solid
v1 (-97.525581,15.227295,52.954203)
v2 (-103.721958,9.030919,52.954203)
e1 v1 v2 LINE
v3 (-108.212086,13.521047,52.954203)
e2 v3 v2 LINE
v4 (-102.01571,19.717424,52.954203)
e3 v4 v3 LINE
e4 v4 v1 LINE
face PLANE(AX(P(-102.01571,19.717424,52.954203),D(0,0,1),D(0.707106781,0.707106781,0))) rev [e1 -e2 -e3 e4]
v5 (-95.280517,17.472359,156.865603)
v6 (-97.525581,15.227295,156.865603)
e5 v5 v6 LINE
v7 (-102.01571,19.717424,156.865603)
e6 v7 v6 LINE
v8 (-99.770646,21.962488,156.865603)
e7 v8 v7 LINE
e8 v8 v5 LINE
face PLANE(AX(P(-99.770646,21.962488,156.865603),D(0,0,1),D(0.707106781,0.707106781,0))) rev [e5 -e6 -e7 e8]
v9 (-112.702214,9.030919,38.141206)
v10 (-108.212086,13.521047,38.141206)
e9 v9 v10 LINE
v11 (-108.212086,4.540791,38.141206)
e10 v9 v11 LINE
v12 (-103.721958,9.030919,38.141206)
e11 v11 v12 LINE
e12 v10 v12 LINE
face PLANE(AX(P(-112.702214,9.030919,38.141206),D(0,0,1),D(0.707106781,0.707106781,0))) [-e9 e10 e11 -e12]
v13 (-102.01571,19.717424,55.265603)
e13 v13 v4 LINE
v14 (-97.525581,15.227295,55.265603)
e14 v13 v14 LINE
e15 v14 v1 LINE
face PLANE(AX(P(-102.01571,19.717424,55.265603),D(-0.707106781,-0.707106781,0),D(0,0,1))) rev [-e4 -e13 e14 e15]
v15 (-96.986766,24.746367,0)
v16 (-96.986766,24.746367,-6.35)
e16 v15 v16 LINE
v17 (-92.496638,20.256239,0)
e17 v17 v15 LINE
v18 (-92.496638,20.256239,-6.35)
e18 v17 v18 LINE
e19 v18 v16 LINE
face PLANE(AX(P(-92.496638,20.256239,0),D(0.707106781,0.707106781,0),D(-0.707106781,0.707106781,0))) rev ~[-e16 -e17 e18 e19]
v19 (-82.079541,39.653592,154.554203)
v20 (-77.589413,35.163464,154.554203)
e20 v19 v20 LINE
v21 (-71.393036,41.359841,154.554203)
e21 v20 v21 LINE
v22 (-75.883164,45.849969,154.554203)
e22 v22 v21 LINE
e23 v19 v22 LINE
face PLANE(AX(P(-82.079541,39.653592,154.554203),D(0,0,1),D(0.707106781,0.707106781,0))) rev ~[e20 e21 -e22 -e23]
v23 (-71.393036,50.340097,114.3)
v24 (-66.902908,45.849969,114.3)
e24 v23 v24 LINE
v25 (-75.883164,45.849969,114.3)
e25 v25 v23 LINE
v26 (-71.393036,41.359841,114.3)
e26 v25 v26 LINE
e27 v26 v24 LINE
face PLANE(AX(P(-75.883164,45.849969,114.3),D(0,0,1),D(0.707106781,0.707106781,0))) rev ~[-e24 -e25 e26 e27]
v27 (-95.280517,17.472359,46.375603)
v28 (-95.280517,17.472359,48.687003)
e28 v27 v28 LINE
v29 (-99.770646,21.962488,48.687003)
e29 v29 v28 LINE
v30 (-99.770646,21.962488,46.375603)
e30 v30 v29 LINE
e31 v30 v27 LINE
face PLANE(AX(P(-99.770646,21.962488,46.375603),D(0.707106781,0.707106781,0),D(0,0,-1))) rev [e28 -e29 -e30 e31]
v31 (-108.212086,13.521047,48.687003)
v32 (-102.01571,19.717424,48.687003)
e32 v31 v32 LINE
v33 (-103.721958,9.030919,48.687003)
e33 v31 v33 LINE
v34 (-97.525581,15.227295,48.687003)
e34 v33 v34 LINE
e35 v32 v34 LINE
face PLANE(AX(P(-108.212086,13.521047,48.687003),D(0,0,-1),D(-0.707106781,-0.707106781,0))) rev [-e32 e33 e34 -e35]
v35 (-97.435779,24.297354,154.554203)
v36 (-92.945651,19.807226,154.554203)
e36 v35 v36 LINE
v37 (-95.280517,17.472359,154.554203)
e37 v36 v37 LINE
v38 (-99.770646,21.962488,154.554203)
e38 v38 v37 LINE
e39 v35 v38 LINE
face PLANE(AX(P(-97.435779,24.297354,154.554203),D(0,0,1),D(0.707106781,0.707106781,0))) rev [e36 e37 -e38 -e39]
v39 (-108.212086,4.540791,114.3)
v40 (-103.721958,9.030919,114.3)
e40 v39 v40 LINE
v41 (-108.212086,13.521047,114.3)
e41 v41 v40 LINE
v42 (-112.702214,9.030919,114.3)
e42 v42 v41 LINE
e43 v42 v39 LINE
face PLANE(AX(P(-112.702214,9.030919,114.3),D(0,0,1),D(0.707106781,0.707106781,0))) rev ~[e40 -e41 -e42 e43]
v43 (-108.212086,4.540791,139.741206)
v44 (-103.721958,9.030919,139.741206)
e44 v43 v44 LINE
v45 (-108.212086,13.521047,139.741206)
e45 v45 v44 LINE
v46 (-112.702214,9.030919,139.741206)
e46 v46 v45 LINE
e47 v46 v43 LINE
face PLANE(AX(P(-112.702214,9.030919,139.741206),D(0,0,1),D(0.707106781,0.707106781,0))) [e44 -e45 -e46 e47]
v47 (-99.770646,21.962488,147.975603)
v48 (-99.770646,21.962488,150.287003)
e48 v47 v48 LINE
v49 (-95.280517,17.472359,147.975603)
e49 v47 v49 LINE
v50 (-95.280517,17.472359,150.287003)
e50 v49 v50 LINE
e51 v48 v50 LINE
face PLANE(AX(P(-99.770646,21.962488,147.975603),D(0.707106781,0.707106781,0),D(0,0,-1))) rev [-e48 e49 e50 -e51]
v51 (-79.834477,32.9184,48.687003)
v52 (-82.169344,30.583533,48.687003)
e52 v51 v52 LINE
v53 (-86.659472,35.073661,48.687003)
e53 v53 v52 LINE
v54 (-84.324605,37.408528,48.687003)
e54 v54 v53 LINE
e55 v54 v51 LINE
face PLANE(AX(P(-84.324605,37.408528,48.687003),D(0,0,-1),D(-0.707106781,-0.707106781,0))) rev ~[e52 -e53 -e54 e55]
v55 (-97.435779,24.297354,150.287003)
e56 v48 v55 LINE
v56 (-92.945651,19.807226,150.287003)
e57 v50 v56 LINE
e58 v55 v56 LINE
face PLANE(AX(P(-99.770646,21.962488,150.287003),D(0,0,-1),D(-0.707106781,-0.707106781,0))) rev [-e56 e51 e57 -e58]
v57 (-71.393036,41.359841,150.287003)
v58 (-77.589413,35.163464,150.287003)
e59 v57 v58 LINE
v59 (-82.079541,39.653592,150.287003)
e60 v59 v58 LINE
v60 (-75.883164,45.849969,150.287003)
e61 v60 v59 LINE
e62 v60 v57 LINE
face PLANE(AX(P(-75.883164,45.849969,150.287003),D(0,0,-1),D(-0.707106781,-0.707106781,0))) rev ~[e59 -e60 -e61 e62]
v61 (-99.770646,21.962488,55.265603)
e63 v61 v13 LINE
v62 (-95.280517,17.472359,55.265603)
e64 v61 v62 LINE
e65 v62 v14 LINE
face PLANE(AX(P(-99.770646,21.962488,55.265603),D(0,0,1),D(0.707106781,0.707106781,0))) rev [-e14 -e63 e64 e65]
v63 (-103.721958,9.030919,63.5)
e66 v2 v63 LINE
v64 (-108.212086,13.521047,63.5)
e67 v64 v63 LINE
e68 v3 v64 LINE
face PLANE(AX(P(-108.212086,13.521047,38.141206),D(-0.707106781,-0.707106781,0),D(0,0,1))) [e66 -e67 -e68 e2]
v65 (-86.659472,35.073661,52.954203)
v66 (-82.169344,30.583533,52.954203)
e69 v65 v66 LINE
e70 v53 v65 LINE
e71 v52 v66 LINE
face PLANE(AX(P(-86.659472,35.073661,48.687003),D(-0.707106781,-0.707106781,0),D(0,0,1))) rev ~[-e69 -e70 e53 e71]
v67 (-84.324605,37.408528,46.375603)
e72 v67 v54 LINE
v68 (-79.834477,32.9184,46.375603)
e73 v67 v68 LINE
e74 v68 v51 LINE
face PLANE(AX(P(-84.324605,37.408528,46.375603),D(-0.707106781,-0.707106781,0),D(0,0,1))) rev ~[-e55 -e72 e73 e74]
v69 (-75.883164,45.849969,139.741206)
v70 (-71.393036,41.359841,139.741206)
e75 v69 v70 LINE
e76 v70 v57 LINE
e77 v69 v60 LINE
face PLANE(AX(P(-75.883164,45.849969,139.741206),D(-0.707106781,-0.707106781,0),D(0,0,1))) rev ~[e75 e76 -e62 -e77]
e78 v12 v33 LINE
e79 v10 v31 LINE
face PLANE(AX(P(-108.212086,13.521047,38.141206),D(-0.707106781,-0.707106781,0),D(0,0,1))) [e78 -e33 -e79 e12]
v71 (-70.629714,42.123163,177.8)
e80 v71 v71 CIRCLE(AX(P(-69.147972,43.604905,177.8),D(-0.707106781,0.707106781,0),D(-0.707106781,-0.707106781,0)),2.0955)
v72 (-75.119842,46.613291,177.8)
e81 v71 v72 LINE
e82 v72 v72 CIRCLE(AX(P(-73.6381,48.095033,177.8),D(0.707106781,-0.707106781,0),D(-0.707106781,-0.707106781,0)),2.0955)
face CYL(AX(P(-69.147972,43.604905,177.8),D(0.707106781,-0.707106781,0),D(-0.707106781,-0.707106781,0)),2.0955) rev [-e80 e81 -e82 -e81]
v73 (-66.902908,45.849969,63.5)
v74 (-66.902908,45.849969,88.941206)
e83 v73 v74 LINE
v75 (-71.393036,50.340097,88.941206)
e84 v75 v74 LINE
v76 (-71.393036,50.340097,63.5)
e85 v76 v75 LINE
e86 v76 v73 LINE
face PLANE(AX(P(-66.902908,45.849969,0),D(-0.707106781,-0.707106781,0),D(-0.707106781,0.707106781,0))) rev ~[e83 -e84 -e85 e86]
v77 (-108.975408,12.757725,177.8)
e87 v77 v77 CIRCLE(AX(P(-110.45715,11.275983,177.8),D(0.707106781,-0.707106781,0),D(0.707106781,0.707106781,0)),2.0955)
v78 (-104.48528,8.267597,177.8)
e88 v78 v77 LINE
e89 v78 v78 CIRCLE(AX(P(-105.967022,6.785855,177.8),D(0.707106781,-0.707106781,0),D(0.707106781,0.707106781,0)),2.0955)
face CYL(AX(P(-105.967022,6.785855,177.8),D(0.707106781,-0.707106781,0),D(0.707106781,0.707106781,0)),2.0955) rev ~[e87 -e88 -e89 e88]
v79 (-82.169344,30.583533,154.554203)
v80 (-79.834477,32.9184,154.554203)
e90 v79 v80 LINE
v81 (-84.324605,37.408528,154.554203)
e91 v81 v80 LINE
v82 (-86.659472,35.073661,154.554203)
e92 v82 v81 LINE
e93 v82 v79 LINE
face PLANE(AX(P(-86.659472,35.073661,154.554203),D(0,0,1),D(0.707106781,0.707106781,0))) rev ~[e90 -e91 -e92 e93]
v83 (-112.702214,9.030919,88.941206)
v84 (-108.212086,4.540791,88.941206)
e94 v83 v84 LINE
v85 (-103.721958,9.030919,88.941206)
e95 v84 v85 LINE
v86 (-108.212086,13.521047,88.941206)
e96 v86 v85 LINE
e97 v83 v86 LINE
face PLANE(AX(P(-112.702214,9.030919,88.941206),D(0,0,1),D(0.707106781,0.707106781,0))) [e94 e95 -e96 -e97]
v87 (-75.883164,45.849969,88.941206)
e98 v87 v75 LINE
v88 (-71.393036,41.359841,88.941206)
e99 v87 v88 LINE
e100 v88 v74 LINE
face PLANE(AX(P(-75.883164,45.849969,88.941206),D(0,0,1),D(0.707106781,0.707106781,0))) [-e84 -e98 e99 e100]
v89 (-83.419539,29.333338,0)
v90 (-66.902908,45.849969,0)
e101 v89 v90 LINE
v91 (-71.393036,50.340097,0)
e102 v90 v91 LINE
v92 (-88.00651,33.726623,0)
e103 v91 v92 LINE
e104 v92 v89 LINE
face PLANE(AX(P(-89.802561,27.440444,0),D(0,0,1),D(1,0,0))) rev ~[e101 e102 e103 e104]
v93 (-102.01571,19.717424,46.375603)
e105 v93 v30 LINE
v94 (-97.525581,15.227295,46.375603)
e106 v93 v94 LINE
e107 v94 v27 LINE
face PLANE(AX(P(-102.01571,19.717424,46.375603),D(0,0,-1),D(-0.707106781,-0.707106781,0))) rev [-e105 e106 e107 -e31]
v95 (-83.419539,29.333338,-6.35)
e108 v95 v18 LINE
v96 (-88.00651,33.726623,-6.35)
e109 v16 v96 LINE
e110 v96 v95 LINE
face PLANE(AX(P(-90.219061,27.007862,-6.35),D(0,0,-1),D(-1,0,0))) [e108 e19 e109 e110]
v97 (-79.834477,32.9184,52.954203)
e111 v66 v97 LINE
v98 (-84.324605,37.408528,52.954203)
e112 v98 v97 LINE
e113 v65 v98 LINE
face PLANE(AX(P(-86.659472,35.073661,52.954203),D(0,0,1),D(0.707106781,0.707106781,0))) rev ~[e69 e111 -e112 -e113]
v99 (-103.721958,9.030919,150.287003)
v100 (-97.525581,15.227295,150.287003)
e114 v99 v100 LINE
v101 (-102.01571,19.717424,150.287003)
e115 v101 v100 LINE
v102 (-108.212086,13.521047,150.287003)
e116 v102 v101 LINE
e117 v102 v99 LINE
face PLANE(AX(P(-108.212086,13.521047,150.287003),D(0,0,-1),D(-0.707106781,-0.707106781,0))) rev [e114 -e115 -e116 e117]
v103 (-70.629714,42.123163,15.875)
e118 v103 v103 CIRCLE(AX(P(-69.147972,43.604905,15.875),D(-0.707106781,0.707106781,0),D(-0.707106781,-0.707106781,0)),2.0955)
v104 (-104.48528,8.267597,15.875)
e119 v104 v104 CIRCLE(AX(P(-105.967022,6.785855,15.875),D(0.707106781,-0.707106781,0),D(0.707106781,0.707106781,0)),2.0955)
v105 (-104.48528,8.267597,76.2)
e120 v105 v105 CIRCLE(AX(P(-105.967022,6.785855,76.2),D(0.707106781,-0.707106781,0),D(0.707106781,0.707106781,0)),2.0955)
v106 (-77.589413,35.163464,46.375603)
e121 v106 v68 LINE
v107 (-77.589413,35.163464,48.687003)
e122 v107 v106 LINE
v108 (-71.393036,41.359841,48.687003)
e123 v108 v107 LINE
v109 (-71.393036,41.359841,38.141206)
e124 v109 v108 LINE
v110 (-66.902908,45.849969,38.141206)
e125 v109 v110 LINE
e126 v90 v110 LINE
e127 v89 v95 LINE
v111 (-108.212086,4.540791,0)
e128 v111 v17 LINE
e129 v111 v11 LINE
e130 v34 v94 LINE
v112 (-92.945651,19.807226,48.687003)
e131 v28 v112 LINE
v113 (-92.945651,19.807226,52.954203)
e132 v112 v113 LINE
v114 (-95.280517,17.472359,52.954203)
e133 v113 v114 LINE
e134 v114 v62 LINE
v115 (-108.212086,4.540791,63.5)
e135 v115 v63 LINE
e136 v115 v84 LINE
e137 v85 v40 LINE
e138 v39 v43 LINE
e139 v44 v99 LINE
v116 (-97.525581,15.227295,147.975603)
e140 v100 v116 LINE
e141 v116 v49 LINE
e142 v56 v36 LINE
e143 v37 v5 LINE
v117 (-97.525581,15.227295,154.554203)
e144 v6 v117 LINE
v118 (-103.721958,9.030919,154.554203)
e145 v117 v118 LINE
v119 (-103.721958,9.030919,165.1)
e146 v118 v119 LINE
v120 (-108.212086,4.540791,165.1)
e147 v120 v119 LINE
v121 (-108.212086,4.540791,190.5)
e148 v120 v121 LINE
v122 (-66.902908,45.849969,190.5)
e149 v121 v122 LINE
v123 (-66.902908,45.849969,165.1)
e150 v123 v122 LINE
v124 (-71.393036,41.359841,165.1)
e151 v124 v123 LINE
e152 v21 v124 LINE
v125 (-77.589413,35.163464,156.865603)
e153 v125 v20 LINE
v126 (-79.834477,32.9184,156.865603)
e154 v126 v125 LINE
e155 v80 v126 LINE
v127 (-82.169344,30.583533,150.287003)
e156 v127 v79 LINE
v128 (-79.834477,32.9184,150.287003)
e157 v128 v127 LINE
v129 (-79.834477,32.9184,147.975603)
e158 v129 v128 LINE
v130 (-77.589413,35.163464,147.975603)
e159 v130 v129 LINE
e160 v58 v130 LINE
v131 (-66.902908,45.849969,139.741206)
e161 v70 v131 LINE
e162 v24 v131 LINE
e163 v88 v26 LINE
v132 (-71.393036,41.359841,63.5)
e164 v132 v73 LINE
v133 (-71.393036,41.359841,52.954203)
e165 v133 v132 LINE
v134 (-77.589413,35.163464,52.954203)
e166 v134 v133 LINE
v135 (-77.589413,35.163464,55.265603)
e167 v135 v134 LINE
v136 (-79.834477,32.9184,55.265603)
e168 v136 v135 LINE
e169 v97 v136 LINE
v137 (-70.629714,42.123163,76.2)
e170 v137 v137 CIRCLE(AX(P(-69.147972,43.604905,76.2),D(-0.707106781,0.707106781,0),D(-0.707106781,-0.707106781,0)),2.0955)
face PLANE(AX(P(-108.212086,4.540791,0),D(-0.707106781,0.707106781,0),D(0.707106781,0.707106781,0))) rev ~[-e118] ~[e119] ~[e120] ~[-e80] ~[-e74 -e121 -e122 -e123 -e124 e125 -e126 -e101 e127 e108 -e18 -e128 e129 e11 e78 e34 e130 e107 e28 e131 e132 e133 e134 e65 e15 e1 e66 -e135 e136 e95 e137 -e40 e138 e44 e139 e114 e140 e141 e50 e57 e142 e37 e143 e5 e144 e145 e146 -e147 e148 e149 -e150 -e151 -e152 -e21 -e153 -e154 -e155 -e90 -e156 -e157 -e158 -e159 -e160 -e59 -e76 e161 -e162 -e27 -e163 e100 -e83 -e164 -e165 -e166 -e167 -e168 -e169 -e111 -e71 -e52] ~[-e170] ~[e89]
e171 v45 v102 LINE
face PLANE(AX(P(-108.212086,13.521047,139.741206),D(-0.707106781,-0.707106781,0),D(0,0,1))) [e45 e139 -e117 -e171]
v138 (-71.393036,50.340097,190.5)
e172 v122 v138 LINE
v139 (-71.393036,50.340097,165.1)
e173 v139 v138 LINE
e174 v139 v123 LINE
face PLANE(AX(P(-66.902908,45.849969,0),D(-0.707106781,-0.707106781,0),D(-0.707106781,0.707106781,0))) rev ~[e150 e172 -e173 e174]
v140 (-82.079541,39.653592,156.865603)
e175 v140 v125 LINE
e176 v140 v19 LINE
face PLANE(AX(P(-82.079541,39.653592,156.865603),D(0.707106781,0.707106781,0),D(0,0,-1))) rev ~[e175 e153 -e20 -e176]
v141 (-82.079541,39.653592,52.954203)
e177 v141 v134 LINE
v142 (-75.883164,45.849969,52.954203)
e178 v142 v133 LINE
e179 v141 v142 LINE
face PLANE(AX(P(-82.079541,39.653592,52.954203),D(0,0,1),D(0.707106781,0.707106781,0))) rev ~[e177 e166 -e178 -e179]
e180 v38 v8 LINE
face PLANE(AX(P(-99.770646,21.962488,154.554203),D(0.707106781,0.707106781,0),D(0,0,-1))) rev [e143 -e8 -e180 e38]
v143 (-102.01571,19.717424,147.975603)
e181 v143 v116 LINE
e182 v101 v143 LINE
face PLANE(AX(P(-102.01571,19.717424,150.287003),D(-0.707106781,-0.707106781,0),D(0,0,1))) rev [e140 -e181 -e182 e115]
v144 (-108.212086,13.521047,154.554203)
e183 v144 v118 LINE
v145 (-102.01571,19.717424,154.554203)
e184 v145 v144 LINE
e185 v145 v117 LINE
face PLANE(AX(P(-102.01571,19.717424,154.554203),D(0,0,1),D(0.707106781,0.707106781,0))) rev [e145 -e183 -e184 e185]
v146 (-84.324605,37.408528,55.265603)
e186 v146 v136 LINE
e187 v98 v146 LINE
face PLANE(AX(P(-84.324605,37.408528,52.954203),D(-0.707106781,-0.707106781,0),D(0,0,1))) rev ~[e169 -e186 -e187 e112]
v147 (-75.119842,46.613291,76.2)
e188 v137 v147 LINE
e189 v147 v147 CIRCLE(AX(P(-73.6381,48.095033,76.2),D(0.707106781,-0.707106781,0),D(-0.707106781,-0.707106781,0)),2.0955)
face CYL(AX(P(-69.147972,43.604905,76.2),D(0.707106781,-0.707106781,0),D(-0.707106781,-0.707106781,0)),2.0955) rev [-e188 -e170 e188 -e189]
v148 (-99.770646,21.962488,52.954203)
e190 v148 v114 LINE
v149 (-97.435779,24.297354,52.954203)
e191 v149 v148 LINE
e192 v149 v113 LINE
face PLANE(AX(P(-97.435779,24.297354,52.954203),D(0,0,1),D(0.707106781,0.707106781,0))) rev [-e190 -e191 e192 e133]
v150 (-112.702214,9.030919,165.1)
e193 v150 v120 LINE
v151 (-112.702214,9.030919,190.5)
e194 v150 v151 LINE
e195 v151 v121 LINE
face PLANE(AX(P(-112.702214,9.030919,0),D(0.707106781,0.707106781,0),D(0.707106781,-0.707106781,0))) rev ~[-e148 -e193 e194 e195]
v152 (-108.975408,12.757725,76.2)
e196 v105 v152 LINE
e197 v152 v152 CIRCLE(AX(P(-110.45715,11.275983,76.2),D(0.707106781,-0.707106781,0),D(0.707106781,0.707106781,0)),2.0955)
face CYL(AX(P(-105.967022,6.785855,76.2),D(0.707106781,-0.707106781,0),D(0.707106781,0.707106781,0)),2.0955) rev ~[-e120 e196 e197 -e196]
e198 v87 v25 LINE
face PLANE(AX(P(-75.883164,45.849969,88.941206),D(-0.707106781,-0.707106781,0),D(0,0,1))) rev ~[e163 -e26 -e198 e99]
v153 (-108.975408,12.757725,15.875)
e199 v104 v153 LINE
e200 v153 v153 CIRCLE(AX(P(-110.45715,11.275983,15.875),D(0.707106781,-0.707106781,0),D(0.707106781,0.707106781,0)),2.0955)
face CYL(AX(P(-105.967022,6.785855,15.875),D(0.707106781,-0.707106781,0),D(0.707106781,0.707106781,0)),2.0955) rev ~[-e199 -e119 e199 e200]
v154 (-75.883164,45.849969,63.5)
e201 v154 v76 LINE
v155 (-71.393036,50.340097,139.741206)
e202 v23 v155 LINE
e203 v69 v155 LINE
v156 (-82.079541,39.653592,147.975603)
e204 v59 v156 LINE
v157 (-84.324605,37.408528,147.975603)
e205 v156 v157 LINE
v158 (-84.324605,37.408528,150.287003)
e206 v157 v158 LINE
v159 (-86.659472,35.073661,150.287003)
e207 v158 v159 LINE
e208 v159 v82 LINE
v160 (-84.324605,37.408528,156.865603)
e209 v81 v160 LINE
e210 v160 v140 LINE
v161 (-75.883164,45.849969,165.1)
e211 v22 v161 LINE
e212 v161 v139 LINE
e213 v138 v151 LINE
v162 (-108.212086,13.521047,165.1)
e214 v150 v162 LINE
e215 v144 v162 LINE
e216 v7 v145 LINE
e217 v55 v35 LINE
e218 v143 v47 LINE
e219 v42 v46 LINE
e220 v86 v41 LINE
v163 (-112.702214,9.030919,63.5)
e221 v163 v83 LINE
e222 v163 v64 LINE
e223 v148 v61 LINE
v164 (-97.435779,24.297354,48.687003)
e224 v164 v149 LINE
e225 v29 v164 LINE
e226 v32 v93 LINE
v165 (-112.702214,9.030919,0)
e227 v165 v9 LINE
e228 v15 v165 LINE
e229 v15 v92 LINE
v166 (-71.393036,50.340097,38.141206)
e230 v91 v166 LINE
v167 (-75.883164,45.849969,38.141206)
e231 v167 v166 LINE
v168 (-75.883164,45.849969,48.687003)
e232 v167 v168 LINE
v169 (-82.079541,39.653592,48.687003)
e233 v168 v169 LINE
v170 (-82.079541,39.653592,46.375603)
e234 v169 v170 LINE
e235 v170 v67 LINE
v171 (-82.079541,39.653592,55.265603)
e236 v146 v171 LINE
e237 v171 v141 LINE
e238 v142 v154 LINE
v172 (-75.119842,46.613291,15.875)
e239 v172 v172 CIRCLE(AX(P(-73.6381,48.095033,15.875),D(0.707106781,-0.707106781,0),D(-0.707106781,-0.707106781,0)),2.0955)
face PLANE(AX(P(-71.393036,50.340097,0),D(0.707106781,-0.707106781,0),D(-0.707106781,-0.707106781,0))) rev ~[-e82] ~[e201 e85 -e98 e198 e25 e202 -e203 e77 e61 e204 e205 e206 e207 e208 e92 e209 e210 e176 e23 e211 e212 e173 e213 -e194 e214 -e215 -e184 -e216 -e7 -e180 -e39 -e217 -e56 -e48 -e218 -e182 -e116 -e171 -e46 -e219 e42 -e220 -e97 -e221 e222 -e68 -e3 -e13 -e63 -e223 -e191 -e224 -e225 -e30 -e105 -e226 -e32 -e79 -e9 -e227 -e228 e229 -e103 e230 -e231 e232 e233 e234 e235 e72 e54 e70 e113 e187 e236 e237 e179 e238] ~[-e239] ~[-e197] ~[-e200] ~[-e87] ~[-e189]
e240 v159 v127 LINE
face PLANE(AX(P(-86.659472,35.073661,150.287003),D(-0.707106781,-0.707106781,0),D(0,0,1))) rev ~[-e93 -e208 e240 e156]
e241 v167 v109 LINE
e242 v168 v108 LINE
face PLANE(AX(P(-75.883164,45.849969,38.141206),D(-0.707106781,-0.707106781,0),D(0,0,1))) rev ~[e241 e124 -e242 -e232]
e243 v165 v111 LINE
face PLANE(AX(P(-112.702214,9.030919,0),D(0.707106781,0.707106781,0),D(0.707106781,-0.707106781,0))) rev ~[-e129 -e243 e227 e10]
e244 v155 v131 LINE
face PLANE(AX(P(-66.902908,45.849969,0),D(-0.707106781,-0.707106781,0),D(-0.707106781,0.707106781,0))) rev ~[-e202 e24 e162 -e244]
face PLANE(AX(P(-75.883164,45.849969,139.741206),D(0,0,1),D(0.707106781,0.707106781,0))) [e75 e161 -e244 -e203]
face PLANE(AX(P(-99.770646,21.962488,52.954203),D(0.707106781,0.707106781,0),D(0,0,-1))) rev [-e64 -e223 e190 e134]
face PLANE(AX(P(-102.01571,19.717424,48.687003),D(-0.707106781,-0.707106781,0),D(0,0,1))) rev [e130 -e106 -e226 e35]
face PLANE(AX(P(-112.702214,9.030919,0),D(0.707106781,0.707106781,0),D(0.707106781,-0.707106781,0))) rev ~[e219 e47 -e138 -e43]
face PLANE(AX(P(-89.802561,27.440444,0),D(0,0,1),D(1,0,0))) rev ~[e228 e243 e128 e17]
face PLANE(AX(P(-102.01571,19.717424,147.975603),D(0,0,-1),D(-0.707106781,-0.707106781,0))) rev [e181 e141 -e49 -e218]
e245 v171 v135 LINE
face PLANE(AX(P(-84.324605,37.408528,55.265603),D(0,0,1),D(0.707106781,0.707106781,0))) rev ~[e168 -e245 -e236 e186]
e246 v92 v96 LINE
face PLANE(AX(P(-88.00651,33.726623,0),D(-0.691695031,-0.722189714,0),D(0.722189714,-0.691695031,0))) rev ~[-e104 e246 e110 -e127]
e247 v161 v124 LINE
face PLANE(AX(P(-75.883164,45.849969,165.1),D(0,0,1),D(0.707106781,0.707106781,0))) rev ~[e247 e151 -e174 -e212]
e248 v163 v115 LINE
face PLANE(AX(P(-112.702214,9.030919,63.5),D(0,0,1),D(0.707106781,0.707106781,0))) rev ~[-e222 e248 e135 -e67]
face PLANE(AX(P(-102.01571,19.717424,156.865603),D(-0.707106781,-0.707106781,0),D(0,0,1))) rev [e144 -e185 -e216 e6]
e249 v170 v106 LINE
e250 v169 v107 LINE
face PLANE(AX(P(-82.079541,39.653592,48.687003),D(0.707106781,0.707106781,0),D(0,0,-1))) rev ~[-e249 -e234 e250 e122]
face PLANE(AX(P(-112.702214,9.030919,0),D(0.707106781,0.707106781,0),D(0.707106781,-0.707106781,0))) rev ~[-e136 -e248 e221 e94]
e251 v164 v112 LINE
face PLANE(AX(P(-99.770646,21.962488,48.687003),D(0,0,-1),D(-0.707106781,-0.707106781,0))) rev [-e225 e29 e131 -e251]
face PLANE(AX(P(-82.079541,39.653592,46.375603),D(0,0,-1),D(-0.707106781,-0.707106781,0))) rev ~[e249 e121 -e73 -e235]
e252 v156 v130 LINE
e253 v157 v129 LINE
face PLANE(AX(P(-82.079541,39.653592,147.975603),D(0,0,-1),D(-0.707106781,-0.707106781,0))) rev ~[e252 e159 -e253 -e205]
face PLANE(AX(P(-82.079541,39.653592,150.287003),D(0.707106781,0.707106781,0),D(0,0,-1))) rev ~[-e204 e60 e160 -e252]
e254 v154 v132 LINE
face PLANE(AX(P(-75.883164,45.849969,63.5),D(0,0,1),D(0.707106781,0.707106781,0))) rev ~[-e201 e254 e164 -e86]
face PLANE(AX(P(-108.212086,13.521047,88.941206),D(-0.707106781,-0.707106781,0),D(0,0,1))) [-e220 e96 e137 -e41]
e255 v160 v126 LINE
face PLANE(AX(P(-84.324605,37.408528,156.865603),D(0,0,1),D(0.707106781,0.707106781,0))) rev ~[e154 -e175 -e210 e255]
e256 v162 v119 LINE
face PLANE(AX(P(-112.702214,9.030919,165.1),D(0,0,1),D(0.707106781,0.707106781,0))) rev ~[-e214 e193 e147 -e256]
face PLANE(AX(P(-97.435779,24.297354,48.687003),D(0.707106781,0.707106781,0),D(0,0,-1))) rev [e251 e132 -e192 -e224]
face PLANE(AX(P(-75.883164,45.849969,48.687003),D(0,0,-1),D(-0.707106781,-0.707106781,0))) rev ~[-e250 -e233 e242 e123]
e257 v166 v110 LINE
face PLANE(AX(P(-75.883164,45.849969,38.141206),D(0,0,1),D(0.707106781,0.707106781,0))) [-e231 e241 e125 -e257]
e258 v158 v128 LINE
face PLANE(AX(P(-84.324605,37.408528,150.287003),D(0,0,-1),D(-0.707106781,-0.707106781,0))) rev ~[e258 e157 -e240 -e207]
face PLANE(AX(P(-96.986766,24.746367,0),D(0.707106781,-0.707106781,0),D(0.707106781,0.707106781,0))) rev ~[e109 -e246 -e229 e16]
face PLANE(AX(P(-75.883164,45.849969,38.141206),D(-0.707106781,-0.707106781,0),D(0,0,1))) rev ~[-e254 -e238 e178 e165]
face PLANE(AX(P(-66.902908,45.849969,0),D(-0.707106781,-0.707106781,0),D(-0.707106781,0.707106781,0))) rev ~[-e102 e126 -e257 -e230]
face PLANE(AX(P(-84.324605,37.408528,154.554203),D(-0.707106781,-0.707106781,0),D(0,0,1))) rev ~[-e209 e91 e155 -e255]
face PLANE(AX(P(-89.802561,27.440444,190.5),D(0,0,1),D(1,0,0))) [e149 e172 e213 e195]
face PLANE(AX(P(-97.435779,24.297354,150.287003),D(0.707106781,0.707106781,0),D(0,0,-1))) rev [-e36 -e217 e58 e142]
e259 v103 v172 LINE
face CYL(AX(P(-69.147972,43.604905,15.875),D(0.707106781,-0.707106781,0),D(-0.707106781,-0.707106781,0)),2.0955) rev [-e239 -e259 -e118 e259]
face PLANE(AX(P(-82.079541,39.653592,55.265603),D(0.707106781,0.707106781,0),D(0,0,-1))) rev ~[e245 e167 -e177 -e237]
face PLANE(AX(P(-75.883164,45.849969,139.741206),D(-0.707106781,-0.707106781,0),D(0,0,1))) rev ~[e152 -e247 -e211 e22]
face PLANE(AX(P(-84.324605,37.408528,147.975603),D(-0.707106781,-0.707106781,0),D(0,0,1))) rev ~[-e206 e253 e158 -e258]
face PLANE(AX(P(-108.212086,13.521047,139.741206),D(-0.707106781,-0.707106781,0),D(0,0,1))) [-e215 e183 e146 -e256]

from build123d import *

# Parameters (mm, degrees)
BOSS_EXTRUDE1_DEPTH = 190.5
SKETCH2_W           = 25.35879418
SKETCH2_H           = 6.35
CUT_EXTRUDE1_DEPTH  = 6.35
LPATTERN1_COUNT     = 3
LPATTERN1_PITCH     = 50.8
BOSS_EXTRUDE2_DEPTH = 6.35
SKETCH5_R           = 2.0955
CUT_EXTRUDE2_DEPTH  = 206.304109574
CUT_EXTRUDE3_DEPTH  = 206.304109574


with BuildPart() as part:
    # Sketch1 → Boss-Extrude1 (new body)
    with BuildSketch(Plane.XY):
        Polygon((-108.212086259, 4.54079067), (-66.902908102, 45.849968827), (-71.393036163, 50.340096887), (-112.702214319, 9.030918731), align=None)
    extrude(amount=BOSS_EXTRUDE1_DEPTH)

    # Sketch2 → Cut-Extrude1 (cut)
    with BuildSketch(Plane(origin=(-60.866566525, 60.866566525, 0), x_dir=(0, 0, 1), z_dir=(-0.7071067811865477, 0.7071067811865474, 0))):
        with Locations((152.42060291, -18.061676125)):
            Rectangle(SKETCH2_W, SKETCH2_H)
        with Locations((152.42060291, -70.131676125)):
            Rectangle(SKETCH2_W, SKETCH2_H)
    cut_extrude1 = extrude(amount=-CUT_EXTRUDE1_DEPTH, mode=Mode.SUBTRACT)

    # LPattern1: Cut-Extrude1 ×3
    with Locations(*[(0, 0, -i * LPATTERN1_PITCH) for i in range(1, LPATTERN1_COUNT)]):
        add(cut_extrude1, mode=Mode.SUBTRACT)

    # Sketch3 → Boss-Extrude2 (add)
    with BuildSketch(Plane(origin=(0, 0, 0), x_dir=(-1, 0, 0), z_dir=(0, 0, -1))):
        Polygon((92.496638047, 20.256238882), (96.986766108, 24.746366942), (88.006509986, 33.726623063), (83.419538791, 29.333338138), align=None)
    extrude(amount=BOSS_EXTRUDE2_DEPTH)

    # Sketch5 → Cut-Extrude2 (cut, through all)
    with BuildSketch(Plane(origin=(-56.376438464, 56.376438464, 0), x_dir=(0, 0, -1), z_dir=(0.7071067811865477, -0.7071067811865474, 0))):
        with Locations(Location((-177.8, -70.131676125, 0), (0, 0, 90))):
            Circle(SKETCH5_R)
        with Locations(Location((-76.2, -70.131676125, 0), (0, 0, 90))):
            Circle(SKETCH5_R)
        with Locations(Location((-15.875, -70.131676125, 0), (0, 0, 90))):
            Circle(SKETCH5_R)
    cut_extrude2 = extrude(amount=-CUT_EXTRUDE2_DEPTH, mode=Mode.SUBTRACT)

    # Mirror1: Cut-Extrude2 across plane
    add(cut_extrude2.mirror(Plane(origin=(-31.181058716, -31.181058716, 0), x_dir=(0, 0, 1), z_dir=(-0.7071067811865475, -0.7071067811865477, 0))), mode=Mode.SUBTRACT)

    # Sketch6 → Cut-Extrude3 (cut, through all)
    with BuildSketch(Plane(origin=(-60.866566525, 60.866566525, 0), x_dir=(0, 0, 1), z_dir=(-0.7071067811865477, 0.7071067811865475, 0))):
        Polygon((52.95420291, -21.236676125), (48.68700291, -21.236676125), (48.68700291, -29.999676125), (46.37560291, -29.999676125), (46.37560291, -33.174676125), (48.68700291, -33.174676125), (48.68700291, -36.476676125), (52.95420291, -36.476676125), (52.95420291, -33.174676125), (55.26560291, -33.174676125), (55.26560291, -29.999676125), (52.95420291, -29.999676125), align=None)
        Polygon((154.55420291, -21.236676125), (150.28700291, -21.236676125), (150.28700291, -29.999676125), (147.97560291, -29.999676125), (147.97560291, -33.174676125), (150.28700291, -33.174676125), (150.28700291, -36.476676125), (154.55420291, -36.476676125), (154.55420291, -33.174676125), (156.86560291, -33.174676125), (156.86560291, -29.999676125), (154.55420291, -29.999676125), align=None)
    cut_extrude3 = extrude(amount=-CUT_EXTRUDE3_DEPTH, mode=Mode.SUBTRACT)

    # Mirror2: Cut-Extrude3 across plane
    add(cut_extrude3.mirror(Plane(origin=(-31.181058716, -31.181058716, 0), x_dir=(0, 0, 1), z_dir=(-0.7071067811865475, -0.7071067811865477, 0))), mode=Mode.SUBTRACT)


solid = part.part
